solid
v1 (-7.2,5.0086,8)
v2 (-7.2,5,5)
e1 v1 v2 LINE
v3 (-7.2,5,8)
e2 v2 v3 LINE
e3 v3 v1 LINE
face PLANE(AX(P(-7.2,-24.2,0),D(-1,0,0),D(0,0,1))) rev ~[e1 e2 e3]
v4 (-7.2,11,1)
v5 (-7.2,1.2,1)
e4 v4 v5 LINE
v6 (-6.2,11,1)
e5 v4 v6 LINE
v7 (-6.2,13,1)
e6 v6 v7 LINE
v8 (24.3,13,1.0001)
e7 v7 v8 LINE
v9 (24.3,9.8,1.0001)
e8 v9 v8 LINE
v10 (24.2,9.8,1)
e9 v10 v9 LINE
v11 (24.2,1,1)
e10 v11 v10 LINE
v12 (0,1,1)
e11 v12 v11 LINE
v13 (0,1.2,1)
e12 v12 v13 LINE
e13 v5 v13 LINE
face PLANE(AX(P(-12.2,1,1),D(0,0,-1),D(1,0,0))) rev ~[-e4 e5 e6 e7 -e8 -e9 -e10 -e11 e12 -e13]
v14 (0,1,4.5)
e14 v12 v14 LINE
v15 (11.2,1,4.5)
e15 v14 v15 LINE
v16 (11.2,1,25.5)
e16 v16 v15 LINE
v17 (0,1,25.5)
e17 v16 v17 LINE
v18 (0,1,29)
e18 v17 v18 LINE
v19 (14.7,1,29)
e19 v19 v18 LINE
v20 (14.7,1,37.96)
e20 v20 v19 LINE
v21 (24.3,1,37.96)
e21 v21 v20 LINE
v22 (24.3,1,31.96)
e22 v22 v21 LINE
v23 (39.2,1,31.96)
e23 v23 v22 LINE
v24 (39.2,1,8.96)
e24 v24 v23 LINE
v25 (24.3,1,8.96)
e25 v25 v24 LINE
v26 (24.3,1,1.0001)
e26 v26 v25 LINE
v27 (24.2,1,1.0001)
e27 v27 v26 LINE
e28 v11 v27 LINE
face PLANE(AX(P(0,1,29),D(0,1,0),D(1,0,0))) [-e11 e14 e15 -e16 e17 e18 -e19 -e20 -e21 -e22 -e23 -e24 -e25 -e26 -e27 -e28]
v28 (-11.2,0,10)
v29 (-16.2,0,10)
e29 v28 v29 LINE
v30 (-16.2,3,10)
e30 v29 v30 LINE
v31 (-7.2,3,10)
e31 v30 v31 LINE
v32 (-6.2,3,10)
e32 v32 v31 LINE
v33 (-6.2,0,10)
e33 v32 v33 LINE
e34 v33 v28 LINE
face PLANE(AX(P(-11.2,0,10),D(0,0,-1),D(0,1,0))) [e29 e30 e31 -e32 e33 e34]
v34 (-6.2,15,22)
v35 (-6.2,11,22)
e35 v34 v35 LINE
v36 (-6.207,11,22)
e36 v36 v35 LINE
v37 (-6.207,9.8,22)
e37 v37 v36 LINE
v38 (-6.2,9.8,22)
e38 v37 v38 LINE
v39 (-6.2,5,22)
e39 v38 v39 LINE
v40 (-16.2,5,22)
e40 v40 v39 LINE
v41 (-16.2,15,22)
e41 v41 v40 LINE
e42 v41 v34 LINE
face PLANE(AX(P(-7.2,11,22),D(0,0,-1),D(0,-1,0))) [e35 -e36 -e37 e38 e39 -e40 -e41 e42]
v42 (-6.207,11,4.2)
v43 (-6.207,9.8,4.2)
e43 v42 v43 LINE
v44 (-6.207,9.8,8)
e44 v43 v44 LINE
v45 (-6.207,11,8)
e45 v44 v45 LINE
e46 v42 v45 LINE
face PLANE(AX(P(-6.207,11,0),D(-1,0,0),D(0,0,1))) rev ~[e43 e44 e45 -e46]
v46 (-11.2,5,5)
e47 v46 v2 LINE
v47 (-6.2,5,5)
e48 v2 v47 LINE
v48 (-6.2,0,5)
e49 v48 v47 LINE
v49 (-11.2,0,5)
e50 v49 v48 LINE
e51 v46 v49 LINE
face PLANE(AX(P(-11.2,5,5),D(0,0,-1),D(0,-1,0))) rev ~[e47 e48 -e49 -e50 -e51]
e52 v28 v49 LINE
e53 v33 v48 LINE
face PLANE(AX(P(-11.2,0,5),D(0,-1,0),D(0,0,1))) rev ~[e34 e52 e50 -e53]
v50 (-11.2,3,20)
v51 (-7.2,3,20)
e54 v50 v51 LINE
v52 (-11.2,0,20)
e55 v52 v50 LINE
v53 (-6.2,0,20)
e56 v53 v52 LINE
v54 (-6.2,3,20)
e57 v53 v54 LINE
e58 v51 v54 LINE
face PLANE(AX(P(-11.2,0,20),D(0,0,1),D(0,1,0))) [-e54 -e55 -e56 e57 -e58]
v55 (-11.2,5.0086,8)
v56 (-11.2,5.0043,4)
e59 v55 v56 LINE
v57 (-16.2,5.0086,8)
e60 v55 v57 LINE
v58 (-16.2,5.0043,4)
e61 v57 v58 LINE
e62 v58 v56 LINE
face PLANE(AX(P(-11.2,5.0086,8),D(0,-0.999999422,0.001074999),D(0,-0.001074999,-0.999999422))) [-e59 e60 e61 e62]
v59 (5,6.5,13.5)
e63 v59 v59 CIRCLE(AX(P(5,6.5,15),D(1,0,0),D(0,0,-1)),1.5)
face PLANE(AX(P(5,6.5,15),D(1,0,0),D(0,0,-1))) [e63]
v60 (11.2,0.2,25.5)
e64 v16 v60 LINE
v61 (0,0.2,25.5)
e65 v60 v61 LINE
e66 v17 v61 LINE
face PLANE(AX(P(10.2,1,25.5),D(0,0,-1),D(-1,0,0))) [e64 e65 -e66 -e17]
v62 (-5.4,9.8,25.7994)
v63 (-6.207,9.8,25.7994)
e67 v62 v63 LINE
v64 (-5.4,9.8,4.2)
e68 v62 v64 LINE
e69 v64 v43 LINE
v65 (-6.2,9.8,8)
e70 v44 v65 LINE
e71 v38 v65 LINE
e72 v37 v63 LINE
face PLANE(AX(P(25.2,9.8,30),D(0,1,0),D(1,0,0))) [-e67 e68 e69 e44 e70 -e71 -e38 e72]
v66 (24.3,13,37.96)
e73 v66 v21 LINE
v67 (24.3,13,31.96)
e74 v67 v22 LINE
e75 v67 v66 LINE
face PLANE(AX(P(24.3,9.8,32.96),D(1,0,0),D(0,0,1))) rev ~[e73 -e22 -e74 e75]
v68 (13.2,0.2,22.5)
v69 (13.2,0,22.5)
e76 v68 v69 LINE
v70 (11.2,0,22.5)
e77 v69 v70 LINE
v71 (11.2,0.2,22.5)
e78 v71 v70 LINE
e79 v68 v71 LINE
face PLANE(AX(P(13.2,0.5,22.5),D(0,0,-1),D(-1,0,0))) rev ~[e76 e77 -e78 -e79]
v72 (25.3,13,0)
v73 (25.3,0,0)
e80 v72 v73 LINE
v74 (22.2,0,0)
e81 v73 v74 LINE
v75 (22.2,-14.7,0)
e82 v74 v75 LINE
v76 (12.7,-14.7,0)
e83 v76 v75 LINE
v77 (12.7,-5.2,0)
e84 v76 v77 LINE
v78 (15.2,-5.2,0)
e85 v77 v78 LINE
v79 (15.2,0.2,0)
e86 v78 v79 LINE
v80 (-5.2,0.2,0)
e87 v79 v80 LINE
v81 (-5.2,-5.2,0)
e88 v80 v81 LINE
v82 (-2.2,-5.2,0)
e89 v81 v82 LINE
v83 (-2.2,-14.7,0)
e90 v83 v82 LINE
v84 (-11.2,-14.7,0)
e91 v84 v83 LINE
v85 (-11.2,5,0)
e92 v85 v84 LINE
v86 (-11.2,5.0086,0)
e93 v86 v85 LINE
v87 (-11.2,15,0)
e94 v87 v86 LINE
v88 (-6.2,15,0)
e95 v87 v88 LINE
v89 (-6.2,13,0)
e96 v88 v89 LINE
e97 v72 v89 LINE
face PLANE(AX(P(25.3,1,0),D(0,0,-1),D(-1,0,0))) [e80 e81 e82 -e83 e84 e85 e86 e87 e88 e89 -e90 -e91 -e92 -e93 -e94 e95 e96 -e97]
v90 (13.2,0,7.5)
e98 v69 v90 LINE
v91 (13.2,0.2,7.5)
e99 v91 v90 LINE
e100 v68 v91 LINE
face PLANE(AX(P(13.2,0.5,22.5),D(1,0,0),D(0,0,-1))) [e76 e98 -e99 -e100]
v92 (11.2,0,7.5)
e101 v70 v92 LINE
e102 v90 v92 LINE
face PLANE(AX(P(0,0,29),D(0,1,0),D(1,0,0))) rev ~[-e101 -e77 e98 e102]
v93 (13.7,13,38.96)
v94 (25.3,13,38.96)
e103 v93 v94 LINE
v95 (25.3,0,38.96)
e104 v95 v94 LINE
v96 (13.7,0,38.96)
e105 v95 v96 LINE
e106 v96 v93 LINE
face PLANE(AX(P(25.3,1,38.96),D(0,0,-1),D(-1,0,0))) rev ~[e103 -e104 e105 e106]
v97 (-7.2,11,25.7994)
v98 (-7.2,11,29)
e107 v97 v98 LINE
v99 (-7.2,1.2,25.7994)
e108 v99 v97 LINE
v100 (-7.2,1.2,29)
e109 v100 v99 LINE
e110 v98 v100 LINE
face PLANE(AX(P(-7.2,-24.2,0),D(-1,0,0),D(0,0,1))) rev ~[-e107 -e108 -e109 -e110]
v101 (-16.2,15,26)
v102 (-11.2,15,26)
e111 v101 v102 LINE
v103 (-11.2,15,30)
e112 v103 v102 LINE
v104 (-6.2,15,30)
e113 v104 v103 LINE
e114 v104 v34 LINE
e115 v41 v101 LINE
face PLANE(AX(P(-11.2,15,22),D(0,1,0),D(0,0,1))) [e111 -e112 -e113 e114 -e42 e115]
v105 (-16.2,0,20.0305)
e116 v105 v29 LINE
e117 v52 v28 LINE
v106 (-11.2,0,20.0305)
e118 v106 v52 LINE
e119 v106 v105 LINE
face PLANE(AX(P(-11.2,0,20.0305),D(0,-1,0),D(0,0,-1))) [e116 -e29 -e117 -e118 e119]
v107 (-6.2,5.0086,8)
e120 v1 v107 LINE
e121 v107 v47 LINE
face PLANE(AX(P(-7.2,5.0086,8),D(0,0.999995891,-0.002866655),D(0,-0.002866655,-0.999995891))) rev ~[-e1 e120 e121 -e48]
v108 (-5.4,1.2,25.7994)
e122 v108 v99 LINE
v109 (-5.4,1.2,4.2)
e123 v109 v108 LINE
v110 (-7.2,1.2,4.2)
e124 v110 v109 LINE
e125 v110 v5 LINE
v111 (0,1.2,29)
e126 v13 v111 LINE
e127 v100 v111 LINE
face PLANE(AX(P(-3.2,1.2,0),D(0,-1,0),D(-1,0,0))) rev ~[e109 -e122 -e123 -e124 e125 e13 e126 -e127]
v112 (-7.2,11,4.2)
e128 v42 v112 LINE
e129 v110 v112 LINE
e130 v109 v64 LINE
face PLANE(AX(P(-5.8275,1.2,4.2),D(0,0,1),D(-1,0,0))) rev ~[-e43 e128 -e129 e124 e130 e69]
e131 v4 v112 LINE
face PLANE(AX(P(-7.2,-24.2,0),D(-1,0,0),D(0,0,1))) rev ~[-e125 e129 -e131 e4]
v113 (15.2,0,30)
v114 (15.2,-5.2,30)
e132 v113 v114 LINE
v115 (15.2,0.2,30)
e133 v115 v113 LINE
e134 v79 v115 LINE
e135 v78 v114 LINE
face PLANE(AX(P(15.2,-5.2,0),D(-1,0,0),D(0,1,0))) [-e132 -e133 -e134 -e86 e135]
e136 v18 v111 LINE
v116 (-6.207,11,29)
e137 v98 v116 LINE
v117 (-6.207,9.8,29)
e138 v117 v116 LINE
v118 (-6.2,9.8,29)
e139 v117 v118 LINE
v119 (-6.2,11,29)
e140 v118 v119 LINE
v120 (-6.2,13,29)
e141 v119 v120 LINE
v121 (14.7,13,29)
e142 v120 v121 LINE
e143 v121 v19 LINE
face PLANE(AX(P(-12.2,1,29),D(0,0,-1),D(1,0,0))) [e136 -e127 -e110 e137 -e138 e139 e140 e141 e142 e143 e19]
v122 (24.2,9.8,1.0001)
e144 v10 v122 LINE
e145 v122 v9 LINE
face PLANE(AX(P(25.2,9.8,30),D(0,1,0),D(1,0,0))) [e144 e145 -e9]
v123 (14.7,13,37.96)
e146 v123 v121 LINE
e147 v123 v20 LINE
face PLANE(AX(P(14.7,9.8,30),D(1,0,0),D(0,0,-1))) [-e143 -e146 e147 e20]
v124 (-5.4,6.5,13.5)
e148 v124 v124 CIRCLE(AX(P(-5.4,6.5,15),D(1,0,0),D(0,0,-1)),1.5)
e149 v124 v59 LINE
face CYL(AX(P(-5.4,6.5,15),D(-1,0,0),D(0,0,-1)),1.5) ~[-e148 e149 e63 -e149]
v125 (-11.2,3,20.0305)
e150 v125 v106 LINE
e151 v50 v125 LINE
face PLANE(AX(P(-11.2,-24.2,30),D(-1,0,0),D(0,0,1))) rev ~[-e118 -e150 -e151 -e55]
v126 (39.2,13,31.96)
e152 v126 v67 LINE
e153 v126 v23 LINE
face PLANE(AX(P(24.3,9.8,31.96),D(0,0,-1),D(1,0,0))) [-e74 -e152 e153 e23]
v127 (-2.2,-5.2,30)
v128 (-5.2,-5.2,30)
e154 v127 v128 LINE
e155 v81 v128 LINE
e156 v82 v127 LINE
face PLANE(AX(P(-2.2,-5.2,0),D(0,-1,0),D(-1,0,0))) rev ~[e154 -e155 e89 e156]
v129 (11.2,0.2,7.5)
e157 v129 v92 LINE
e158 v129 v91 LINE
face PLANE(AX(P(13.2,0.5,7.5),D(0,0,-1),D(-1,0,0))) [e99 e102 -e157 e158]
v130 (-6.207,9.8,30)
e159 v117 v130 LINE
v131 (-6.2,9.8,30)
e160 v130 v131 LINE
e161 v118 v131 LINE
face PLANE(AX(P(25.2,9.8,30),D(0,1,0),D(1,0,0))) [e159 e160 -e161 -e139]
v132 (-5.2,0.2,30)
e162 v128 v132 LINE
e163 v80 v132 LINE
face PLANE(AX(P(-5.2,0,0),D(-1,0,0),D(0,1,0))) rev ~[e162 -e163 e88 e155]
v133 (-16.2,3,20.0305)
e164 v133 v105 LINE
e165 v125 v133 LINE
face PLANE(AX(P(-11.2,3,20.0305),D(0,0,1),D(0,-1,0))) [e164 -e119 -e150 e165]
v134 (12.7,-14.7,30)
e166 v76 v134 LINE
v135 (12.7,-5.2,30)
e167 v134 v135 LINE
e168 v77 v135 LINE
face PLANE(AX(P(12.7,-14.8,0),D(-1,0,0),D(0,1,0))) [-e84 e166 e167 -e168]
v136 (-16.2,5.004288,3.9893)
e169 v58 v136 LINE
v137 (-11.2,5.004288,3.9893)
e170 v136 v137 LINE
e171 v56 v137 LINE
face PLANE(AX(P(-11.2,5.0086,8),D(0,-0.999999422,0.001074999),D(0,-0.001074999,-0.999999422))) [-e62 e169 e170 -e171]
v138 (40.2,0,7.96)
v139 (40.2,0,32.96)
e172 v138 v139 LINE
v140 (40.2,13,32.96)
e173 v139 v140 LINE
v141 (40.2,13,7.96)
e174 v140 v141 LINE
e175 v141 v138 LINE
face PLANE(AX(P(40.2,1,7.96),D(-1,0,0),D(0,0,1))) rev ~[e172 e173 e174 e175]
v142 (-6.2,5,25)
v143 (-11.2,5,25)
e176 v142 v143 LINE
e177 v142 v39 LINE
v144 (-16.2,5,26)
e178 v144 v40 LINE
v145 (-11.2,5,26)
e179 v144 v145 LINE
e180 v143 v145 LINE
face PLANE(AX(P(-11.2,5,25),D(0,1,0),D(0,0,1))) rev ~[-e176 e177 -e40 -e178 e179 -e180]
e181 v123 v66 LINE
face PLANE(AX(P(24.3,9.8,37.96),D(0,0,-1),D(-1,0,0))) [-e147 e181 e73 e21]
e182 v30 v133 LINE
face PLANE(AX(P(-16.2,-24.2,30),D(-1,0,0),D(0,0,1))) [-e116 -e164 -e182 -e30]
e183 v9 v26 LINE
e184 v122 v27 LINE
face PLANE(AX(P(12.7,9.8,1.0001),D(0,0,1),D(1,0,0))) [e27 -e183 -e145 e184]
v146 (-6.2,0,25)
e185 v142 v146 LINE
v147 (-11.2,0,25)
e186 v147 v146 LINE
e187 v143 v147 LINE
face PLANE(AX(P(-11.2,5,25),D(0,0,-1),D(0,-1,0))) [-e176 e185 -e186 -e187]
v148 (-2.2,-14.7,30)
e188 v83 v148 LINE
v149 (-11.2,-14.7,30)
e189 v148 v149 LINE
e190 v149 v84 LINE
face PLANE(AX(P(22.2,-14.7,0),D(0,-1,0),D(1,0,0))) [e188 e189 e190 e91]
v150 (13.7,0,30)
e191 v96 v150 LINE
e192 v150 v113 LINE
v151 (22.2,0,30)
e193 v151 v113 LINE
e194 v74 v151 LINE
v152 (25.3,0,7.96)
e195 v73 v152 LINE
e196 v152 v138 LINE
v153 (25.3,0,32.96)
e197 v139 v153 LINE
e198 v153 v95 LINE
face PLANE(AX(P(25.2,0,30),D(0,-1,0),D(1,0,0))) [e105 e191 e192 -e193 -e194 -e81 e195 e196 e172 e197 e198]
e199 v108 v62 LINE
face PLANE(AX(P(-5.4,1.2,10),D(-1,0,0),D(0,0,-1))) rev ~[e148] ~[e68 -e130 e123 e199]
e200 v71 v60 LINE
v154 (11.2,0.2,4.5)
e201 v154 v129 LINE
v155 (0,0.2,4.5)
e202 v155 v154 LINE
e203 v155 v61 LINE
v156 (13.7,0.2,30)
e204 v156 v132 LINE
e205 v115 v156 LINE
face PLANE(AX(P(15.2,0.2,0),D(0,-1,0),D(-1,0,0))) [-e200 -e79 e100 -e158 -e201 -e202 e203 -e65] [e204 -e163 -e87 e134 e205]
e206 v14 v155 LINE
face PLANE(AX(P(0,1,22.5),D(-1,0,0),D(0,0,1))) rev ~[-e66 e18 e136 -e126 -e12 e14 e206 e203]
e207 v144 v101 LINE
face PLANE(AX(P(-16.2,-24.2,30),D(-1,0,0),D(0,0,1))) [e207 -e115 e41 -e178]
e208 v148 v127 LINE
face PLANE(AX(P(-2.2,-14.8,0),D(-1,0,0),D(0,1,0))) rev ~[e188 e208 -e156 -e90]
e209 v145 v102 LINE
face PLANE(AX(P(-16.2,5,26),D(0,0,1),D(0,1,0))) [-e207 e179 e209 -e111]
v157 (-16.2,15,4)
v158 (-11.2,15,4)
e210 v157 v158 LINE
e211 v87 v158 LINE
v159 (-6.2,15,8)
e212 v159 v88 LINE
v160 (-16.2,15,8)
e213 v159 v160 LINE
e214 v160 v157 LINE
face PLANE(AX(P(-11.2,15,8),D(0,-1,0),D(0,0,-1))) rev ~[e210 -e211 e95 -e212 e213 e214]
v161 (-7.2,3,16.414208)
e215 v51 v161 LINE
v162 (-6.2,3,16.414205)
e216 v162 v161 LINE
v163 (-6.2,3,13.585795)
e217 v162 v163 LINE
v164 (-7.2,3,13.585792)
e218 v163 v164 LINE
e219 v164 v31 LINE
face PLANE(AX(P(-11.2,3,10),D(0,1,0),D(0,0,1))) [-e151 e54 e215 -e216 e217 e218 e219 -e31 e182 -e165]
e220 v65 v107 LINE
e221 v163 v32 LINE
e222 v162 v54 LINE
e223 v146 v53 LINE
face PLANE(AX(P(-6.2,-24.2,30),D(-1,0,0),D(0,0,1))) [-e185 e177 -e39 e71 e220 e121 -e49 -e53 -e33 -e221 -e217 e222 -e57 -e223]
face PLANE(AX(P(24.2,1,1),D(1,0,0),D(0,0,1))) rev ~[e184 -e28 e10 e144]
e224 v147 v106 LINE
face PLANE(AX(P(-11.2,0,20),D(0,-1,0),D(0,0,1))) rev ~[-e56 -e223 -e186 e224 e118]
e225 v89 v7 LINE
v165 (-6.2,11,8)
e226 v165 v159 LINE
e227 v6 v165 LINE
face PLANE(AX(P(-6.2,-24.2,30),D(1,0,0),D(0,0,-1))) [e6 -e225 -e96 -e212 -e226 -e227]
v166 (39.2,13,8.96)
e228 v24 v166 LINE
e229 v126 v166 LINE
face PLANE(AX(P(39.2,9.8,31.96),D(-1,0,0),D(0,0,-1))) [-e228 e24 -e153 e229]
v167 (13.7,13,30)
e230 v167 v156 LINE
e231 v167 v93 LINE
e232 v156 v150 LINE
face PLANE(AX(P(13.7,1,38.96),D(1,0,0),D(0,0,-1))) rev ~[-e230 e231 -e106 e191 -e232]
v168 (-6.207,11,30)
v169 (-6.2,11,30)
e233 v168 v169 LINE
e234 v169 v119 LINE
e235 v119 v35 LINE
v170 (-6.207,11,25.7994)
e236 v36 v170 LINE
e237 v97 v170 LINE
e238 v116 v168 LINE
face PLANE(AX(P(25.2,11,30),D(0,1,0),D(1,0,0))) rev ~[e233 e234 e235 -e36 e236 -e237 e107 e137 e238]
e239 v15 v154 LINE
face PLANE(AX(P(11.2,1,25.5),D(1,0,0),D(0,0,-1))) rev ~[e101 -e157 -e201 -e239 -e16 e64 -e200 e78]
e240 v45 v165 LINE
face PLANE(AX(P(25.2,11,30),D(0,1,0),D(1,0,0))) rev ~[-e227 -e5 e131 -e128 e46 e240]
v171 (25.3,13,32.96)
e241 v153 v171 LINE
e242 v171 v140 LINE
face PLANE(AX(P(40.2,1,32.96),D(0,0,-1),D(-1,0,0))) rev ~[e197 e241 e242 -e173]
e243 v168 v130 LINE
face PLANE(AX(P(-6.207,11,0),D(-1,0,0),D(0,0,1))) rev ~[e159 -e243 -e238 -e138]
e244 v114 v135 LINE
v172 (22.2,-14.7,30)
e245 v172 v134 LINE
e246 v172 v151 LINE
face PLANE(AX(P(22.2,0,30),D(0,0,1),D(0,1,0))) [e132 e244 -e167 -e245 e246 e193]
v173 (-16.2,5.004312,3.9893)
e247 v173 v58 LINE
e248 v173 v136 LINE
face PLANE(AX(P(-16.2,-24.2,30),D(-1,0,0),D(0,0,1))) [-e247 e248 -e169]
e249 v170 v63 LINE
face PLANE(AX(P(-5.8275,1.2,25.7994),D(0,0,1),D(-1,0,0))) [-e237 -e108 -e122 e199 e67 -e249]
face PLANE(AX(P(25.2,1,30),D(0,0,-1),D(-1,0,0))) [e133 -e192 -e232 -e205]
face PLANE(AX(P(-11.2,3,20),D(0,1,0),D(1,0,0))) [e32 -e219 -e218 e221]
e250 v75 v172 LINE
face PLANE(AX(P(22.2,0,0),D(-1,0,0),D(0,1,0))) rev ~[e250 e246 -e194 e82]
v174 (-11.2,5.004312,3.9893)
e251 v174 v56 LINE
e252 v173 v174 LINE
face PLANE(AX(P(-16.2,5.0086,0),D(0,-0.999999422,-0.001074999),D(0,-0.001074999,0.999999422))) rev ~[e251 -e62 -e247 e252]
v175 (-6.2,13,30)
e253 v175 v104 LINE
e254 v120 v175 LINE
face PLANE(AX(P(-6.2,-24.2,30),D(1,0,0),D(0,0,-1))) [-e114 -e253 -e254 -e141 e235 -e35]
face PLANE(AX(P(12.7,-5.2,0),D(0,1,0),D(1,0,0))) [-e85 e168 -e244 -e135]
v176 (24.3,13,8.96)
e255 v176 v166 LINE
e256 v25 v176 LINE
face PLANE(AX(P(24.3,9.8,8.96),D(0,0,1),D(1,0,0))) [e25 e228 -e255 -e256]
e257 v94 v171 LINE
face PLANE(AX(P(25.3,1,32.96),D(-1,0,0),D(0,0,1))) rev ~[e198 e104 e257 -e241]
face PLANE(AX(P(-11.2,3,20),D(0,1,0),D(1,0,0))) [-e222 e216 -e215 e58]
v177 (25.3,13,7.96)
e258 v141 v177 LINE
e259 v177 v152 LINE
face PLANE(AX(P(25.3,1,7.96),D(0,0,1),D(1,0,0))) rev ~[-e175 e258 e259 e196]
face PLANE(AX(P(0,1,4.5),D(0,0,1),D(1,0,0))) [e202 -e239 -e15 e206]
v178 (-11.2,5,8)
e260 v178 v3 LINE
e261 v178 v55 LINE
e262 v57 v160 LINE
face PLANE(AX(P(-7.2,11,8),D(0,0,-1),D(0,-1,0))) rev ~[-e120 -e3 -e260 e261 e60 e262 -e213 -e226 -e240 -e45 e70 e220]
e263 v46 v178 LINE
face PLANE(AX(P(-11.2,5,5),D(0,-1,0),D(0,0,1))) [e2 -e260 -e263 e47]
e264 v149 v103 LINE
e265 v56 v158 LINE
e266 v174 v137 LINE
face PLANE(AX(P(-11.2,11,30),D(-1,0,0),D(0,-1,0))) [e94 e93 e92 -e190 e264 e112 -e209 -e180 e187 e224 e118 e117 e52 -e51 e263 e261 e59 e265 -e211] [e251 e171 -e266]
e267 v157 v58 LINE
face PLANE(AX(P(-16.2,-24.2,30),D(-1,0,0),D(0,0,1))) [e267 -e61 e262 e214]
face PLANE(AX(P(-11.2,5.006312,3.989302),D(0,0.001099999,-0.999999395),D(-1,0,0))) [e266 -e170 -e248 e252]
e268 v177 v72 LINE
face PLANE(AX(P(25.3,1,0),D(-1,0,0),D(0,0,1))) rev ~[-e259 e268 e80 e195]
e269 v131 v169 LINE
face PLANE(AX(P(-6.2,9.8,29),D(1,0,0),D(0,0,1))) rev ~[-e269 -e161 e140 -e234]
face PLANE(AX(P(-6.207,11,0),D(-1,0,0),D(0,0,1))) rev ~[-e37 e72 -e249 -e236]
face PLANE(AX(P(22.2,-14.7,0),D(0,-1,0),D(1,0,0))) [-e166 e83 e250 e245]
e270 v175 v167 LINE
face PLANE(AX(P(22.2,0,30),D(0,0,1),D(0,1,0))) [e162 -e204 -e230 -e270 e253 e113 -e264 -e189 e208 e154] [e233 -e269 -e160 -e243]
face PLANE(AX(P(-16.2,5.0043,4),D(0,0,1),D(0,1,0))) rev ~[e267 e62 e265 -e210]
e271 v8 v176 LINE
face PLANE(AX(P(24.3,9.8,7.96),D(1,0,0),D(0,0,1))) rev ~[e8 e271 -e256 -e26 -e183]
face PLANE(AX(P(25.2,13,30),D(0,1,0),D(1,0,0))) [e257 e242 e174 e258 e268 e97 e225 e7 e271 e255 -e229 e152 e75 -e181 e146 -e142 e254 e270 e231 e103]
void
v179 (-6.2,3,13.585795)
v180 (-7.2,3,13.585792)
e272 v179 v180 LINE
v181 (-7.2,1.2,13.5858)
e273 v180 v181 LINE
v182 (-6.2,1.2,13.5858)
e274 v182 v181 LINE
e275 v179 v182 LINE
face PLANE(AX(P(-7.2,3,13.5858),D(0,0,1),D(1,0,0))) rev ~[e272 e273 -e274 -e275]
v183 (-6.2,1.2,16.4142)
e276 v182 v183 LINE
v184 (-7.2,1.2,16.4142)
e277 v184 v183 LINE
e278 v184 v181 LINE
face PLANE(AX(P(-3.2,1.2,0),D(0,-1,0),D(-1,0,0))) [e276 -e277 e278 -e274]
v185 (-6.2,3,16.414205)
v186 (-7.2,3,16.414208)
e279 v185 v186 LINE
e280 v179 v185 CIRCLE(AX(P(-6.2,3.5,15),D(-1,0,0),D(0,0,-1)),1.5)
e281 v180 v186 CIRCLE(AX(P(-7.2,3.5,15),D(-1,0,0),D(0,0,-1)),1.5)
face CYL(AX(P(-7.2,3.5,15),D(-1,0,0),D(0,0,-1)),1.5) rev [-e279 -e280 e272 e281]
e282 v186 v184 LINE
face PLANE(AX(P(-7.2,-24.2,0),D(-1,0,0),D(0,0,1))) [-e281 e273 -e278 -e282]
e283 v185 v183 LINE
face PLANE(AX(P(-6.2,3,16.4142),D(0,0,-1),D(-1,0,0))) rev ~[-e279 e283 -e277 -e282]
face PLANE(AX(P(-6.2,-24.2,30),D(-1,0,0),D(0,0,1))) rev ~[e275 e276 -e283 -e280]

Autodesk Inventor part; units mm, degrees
ref_plane "YZ Plane" through (0, 0, 0) normal (1, 0, 0) x (0, 1, 0)
ref_plane "XZ Plane" through (0, 0, 0) normal (0, 1, 0) x (-1, 0, 0)
ref_plane "XY Plane" through (0, 0, 0) normal (0, 0, 1) x (1, 0, 0)
sketch "Esboço2" plane through (0, 0, 0) normal (0, 0, 1) x (1, 0, 0)
  line L0 (0, 0) -> (-5, 0)
  line L1 (-5, 0) -> (-5, -5)
  line L2 (-5, -5) -> (-2, -5)
  line L3 (-2, -5) -> (-2, -15)
  line L4 (-2, -15) -> (-5.6275, -15)
  line L5 (-5.6275, -15) -> (-5.6275, -20)
  line L6 (-5.6275, -20) -> (0, -20)
  line L7 (0, -20) -> (0, -17.5)
  line L8 (0, -17.5) -> (10, -17.5)
  line L9 (10, -17.5) -> (10, -20)
  line L10 (10, -20) -> (15, -20)
  line L11 (15, -20) -> (15, -15)
  line L12 (15, -15) -> (12.5, -15)
  line L13 (12.5, -15) -> (12.5, -5)
  line L14 (12.5, -5) -> (15, -5)
  line L15 (15, 0) -> (15, -5)
  line L16 (15, 0) -> (10, 0)
  line L17 (10, 0) -> (10, -2.5)
  line L18 (10, -2.5) -> (0, -2.5)
  line L19 (0, -2.5) -> (0, 0)
  line L20 (-2.2, -14.8) -> (-2.2, -5.2)
  line L21 (-2.2, -5.2) -> (-4.7, -5.2)
  line L22 (-2.2, -14.8) -> (-4.7, -14.8)
  line L23 (-2.2, -14.8) -> (-5.8275, -14.8)
  line L24 (-5.8275, -14.8) -> (-5.8275, -20)
  line L25 (-5.8275, -20) -> (-5.8275, -20.2)
  line L26 (-5.8275, -20.2) -> (0.2, -20.2)
  line L27 (0.2, -20.2) -> (0.2, -17.7)
  line L28 (0.2, -17.7) -> (9.8, -17.7)
  line L29 (9.8, -17.7) -> (9.8, -18.4636)
  line L30 (9.8, -18.4636) -> (9.8, -20.2)
  line L31 (9.8, -20.2) -> (15.2, -20.2)
  line L32 (15.2, -20.2) -> (15.2, -14.8)
  line L33 (15.2, -14.8) -> (12.7, -14.8)
  line L34 (12.7, -14.8) -> (12.7, -5.2)
  line L35 (12.7, -5.2) -> (15.1265, -5.2)
  line L36 (15.1265, -5.2) -> (15.2, -5.2)
  line L37 (15.2, -5.2) -> (15.2, 0)
  line L38 (-4.7, -5.2) -> (-5.2, -5.2)
  line L39 (-5.2, -5.2) -> (-5.2, 0)
  line L40 (-12.2, 0) -> (-12.2, -24.2)
  line L41 (-12.2, -24.2) -> (22.2, -24.2)
  line L42 (22.2, -24.2) -> (22.2, 0)
  line L43 (15.2, 0) -> (15.2, 0.2)
  line L44 (15.2, 0.2) -> (13.2, 0.2)
  line L45 (22.2, 0) -> (22.2, 1)
  line L46 (22.2, 1) -> (13.2, 1)
  line L47 (13.2, 1) -> (13.2, 0.2)
  line L48 (-12.2, 0) -> (-12.2, 1.2)
  line L49 (-5.2, 0) -> (-5.2, 0.2)
  line L50 (-5.2, 0.2) -> (-3.2, 0.2)
  line L51 (-3.2, 1.2) -> (-12.2, 1.2)
  line L52 (-3.2, 1.2) -> (0, 1.2)
  line L53 (0, 1.2) -> (0, 0.2)
  line L54 (0, 0.2) -> (-3.2, 0.2)
  line L55 (0.5946, -2.5) -> (0.5946, 9.5)
  line L56 (0.5946, 9.5) -> (9.5946, 9.5)
  line L57 (9.5946, 9.5) -> (9.5946, -2.5)
  line L58 (0.5946, -2.5) -> (9.5946, -2.5)
  dimension "d0" = 5
  dimension "d1" = 5
  dimension "d2" = 3
  dimension "d3" = 10
  dimension "d4" = 5
  dimension "d5" = 2.5
  dimension "d6" = 10
  dimension "d7" = 5
  dimension "d8" = 5
  dimension "d9" = 10
  dimension "d11" = 5
  dimension "d12" = 0.2
  dimension "d13" = 0.2
  dimension "d14" = 0.2
  dimension "d15" = 0.2
  dimension "d16" = 0.2
  dimension "d17" = 0.2
  dimension "d19" = 0.2
  dimension "d20" = 0.2
  dimension "d21" = 0.2
  dimension "d22" = 0.2
  dimension "d23" = 0.2
  dimension "d24" = 0.2
  dimension "d25" = 0.2
  dimension "d26" = 0.2
  dimension "d27" = 0.2
  dimension "d28" = 7
  dimension "d29" = 4
  dimension "d30" = 7
  dimension "d31" = 0.2
  dimension "d32" = 2
  dimension "d33" = 1
  dimension "d34" = 0.2
  dimension "d35" = 2
  dimension "d36" = 1
  dimension "d39" = 12
  dimension "d40" = 9
extrude "Extrusão1" add sketch "Esboço2" along normal blind 30 contours L22 L23 L24 L25 L26 L27 L28 L29 L30 L31 L32 L33 L34 L35 L36 L37 L43 L44 L47 L46 L45 L42 L41 L40 L48 L51 L52 L53 L54 L50 L49 L39 L38 L21 L20
sketch "Esboço4" plane through (-12.2, -24.2, 0) normal (-1, 0, 0) x (0, 0, 1)
  circle A0 centre (30, 27.7) radius 6 projected
  line L0 (30, 27.7) -> (0, 27.7)
  line L1 (15, 27.7) -> (15, 25.4)
  line L2 (0, 25.4) -> (30, 25.4) projected
  line L3 (0, 27.7) -> (30, 27.7)
  line L4 (30, 27.7) -> (30, 25.4)
  line L5 (30, 25.4) -> (0, 25.4)
  line L6 (0, 25.4) -> (0, 27.7)
  point P0 (0, 24.2)
extrude "Extrusão2" add sketch "Esboço4" against normal blind 5 contours L0 L4 L2 A0 | A0 L2 L1 L0 | L1 L2 L6 L0 picked at (28.1528, 26.1667)
sketch "Esboço5" plane through (-7.2, -24.2, 0) normal (1, 0, 0) x (0, 0, -1)
  line L0 (-30, 27.7) -> (0, 27.7) projected
  line L1 (0, 27.7) -> (-15, 27.7)
  circle A0 centre (-15, 27.7) radius 1.5
  point P0 (0, 24.2)
  dimension "d48" = 3
extrude "Extrusão3" add sketch "Esboço5" along normal blind 13.7
sketch "Esboço6" plane through (-7.2, -24.2, 0) normal (-1, 0, 0) x (0, 0, 1)
  line L0 (13.5, 27.7) -> (16.5, 27.7) projected
  circle A0 centre (15, 27.7) radius 1.5
  point P0 (0, 24.2)
extrude "Extrusão4" add sketch "Esboço6" along normal blind 5 contours A0 L0 picked at (15.4855, 27.8197)
sketch "Esboço7" plane through (-12.2, -24.2, 0) normal (-1, 0, 0) x (0, 0, 1)
  circle A0 centre (30, 27.7) radius 6 projected
  line L0 (13.5, 27.7) -> (0, 27.7) projected
  line L1 (30, 33.7) -> (0, 33.7)
  line L2 (0, 33.7) -> (0, 27.7)
  line L3 (0, 27.7) -> (30, 27.7)
  line L4 (30, 27.7) -> (30, 33.7)
  point P0 (0, 24.2)
extrude "Extrusão5" add sketch "Esboço7" against normal blind 5 contours L4 L3 A0 | A0 L3 L0 L2 L1 picked at (26.0501, 28.145)
sketch "Esboço8" plane through (-12.2, -24.2, 0) normal (-1, 0, 0) x (0, 0, 1)
  line L0 (30, 33.7) -> (0, 33.7) projected
  line L1 (0, 33.7) -> (0, 35.2)
  line L2 (0, 35.2) -> (30, 35.2)
  line L3 (30, 35.2) -> (30, 33.7)
  line L4 (30, 33.7) -> (0, 33.7)
  line L5 (30, 33.7) -> (30, 25.4) projected
  point P0 (0, 24.2)
  dimension "d55" = 1.5
extrude "Extrusão6" add sketch "Esboço8" against normal blind 5
sketch "Esboço10" plane through (13.2, 1, 0) normal (0, 1, 0) x (1, 0, 0)
  line L0 (-6.7, -16.5) -> (-6.7, -13.5) projected
  line L1 (-6.7, -15) -> (-6.7, -21.5)
  line L2 (-6.7, -15) -> (-6.7, -8.5)
  line L3 (0, 0) -> (0, -30) projected
  line L4 (0, 0) -> (-13.2, 0)
  line L5 (-3.4, 0) -> (-13, 0) projected
  line L6 (-13.2, 0) -> (-13.2, -8.5)
  line L7 (-13, 0) -> (-13, -30) projected
  line L8 (-13.2, -8.5) -> (0, -8.5)
  line L9 (0, -8.5) -> (0, 0)
  line L10 (2, -30) -> (-3.4, -30) projected
  line L11 (0, -30) -> (0, -21.5)
  line L12 (0, -21.5) -> (-13.2, -21.5)
  line L13 (-13.2, 0) -> (-13.2, -30) projected
  line L14 (-13.2, -21.5) -> (-13.2, -30)
  line L15 (-13.2, -30) -> (0, -30)
  dimension "d58" = 6.5
  dimension "d59" = 6.5
extrude "Extrusão7" add sketch "Esboço10" against normal blind 0.8 contours L12 L3 L10 L15 L7 | L7 L15 L13 L12 | L8 L7 L4 L3 | L8 L6 L4 L7
sketch "Esboço15" plane through (22.2, -24.2, 0) normal (1, 0, 0) x (0, 0, -1)
  line L0 (-30, 25.2) -> (-21.5, 25.2) projected
  line L1 (-30, 25.2) -> (0, 25.2)
  line L2 (0, 25.2) -> (0, 24.2)
  line L3 (0, 24.2) -> (-30, 24.2)
  line L4 (-30, 24.2) -> (-30, 25.2)
extrude "Extrusão10" add sketch "Esboço15" along normal blind 3
sketch "Esboço16" plane through (0, 1, 8.5) normal (0, 1, 0) x (1, 0, 0)
  line L0 (22.2, -21.5) -> (25.2, -21.5) projected
  line L1 (25.2, 8.5) -> (23.7, 8.5)
  line L2 (23.7, -21.5) -> (25.2, -21.5)
  line L3 (0, -21.5) -> (25.2, -21.5) projected
  line L4 (-12.2, -21.5) -> (-12.2, 8.5) projected
  line L5 (25.2, -21.5) -> (-12.2, -21.5)
  line L6 (-12.2, -21.5) -> (-12.2, -20.5)
  line L7 (-12.2, -20.5) -> (25.2, -20.5)
  line L8 (25.2, -20.5) -> (25.2, -21.5)
  line L9 (0, 8.5) -> (25.2, 8.5) projected
  line L10 (25.2, 8.5) -> (-12.2, 8.5)
  line L11 (-12.2, 8.5) -> (-12.2, 7.5)
  line L12 (-12.2, 7.5) -> (25.2, 7.5)
  line L13 (25.2, 7.5) -> (25.2, 8.5)
  line L14 (25.2, 8.5) -> (24.2, 8.5)
  line L15 (24.2, 8.5) -> (24.2, -21.5)
  line L16 (24.2, -21.5) -> (25.2, -21.5)
  line L17 (25.2, -21.5) -> (25.2, 8.5)
  point P0 (24.2, 7.5)
  point P1 (24.2, -20.5)
  dimension "d70" = 1
  dimension "d71" = 1
  dimension "d73" = 1
extrude "Extrusão11" add sketch "Esboço16" along normal blind 10 contours L3 L5 L4 L7 L15 L0 | L15 L7 L8 L0 | L15 L12 L17 L7 | L15 L1 L13 L12 | L12 L4 L10 L9 L1 L15
sketch "Esboço18" plane through (0, 0, 30) normal (0, 0, 1) x (1, 0, 0)
  line L0 (-12.2, 11) -> (-12.2, -24.2) projected
  line L1 (-12.2, -24.2) -> (22.2, -24.2) projected
  line L2 (-12.2, 11) -> (-11.2, 11)
  line L3 (-11.2, 11) -> (-11.2, -24.2)
  line L4 (-11.2, -24.2) -> (-12.2, -24.2)
  line L5 (-12.2, -24.2) -> (-12.2, 11)
  point P0 (0, 0)
  dimension "d76" = 1
extrude "Extrusão12" cut sketch "Esboço18" against normal through all
sketch "Esboço20" plane through (0, 1, 8.5) normal (0, 1, 0) x (1, 0, 0)
  line L0 (0, 7.5) -> (0, -20.5) projected
  line L1 (12.7, 8.5) -> (12.7, -21.5) projected
  line L2 (0, 0) -> (12.7, 0)
  line L3 (12.7, 0) -> (12.7, 1)
  line L4 (12.7, 1) -> (0, 1)
  line L5 (0, 1) -> (0, 0)
  line L6 (0, 0) -> (13.2, 0) projected
  line L7 (12.7, 1) -> (13.2, 1)
  line L8 (13.2, 1) -> (13.2, 0)
  line L9 (13.2, 0) -> (12.7, 0)
  line L10 (12.7, 0) -> (12.7, 1)
  line L11 (13.2, 0) -> (13.2, -13) projected
  line L12 (0, -20.5) -> (0, -13) projected
  line L13 (13.2, -13) -> (0, -13)
  line L14 (0, -13) -> (0, -14)
  line L15 (0, -14) -> (13.2, -14)
  line L16 (13.2, -14) -> (13.2, -13)
  point P0 (0, 8.5)
  point P1 (0, -14)
  point P2 (0, -13)
  point P3 (0, 1)
  dimension "d79" = 1
  dimension "d80" = 1
extrude "Extrusão13" cut sketch "Esboço20" against normal blind 1 contours L4 L1 L2 L0 | L7 L8 L6 L1 | L13 L1 L15 L0 | L13 L16 L15 L1
sketch "Esboço23" plane through (0, 1, 29) normal (0, 1, 0) x (1, 0, 0)
  line L0 (13.2, 21.5) -> (13.2, 6.5) projected
  line L1 (13.2, 6.5) -> (17.9377, 6.5)
  line L2 (17.9377, 6.5) -> (22.2, 6.5)
  line L3 (22.2, 29) -> (22.2, -1) projected
  line L4 (13.2, 6.5) -> (23.7, 6.5)
  line L5 (13.2, 21.5) -> (0, 21.5) projected
  line L6 (13.2, 21.5) -> (23.7, 21.5)
  line L7 (13.2, 21.5) -> (13.2, 6.5)
  line L8 (23.7, 6.5) -> (23.7, 21.5)
  point P0 (0, 29)
  point P1 (22.2, 21.5)
  point P2 (22.2, 6.5)
  dimension "d91" = 10.5
extrude "Extrusão16" cut sketch "Esboço23" against normal blind 0.5
sketch "Esboço29" plane through (0, 0.5, 29) normal (0, 1, 0) x (1, 0, 0)
  line L0 (13.2, 6.5) -> (13.2, 21.5) projected
  line L1 (13.2, 21.5) -> (10.2, 21.5)
  line L2 (0, 21.5) -> (23.7, 21.5) projected
  line L3 (10.2, 21.5) -> (10.2, 6.5)
  line L4 (23.7, 6.5) -> (0, 6.5) projected
  line L5 (13.2, 6.5) -> (10.2, 6.5)
  line L6 (10.2, 21.5) -> (13.2, 21.5)
  point P0 (0, 29)
  dimension "d102" = 3
extrude "Extrusão20" add sketch "Esboço29" against normal blind 0.5
sketch "Esboço38" plane through (-11.2, -24.2, 30) normal (-1, 0, 0) x (0, 0, 1)
  line L0 (0, 35.2) -> (0, 0) projected
  line L1 (-30, 24.2) -> (0, 24.2) projected
  line L2 (0, 24.2) -> (-30, 24.2)
  line L3 (-30, 35.2) -> (0, 35.2) projected
  line L4 (-25, 35.2) -> (-25, 24.2)
  line L5 (-5, 35.2) -> (-5, 24.2)
  line L6 (-5, 24.2) -> (-10, 24.2)
  line L7 (-7.5, 24.2) -> (-22.5, 24.2) projected
  line L8 (-10, 24.2) -> (-10, 27.2)
  line L9 (-10, 27.2) -> (-20, 27.2)
  line L10 (-20, 27.2) -> (-20, 24.2)
  line L11 (-5, 24.2) -> (-5, 29.2)
  line L12 (-5, 29.2) -> (-8, 29.2)
  line L13 (-8, 29.2) -> (-8, 35.2)
  line L14 (-25, 24.2) -> (-25, 29.2)
  line L15 (-25, 29.2) -> (-22, 29.2)
  line L16 (-22, 29.2) -> (-22, 35.2)
  line L17 (-22, 35.2) -> (-8, 35.2)
  point P0 (-5, 24.2)
  dimension "d128" = 20
  dimension "d129" = 5
  dimension "d130" = 5
  dimension "d131" = 3
  dimension "d132" = 10
  dimension "d133" = 5
  dimension "d134" = 3
  dimension "d135" = 3
extrude "Extrusão25" cut sketch "Esboço38" against normal blind 5 contours L1 L8 L9 L10 L4 L15 L16 L3 L13 L12 L5
sketch "Esboço39" plane through (-7.2, 1.2, 29) normal (0, 1, 0) x (1, 0, 0)
  line L0 (1, 12.5) -> (13.7, 12.5) projected
  line L1 (1, 12.5) -> (1, 4)
  line L2 (1, 4) -> (0, 4) projected
  line L3 (1, 4) -> (0, 4)
  line L4 (1, 24) -> (1, 19) projected
  line L5 (1, 12.5) -> (1, 24)
  line L6 (1, 24) -> (0, 24)
  line L7 (0, 24) -> (0, 24.1)
  line L8 (0, 28) -> (0, 21) projected
  line L9 (0, 24.1) -> (1.1, 24.1)
  line L10 (0, 4) -> (0, 0) projected
  line L11 (0, 4) -> (0, 3.9)
  line L12 (0, 3.9) -> (1.1, 3.9)
  line L13 (1.1, 3.9) -> (1.1, 24.1)
  point P0 (7.2, 29)
  dimension "d138" = 0.1
  dimension "d139" = 1.1
  dimension "d140" = 0.1
extrude "Extrusão26" add sketch "Esboço39" along normal blind 9.8
sketch "Esboço40" plane through (-11.2, 3, 20) normal (0, 1, 0) x (1, 0, 0)
  line L0 (4, 3.5858) -> (4, 0) projected
  line L1 (5, 3.5858) -> (4, 3.5858) projected
  line L2 (4, 0) -> (5, 0)
  line L3 (5, 0) -> (5, 3.5858)
  line L4 (5, 3.5858) -> (4, 3.5858)
  line L5 (4, 3.5858) -> (4, 0)
  line L6 (4, 6.4142) -> (5, 6.4142) projected
  line L7 (4, 6.4142) -> (5, 6.4142)
  line L8 (5, 6.4142) -> (5, 10)
  line L9 (5, 10) -> (4, 10)
  line L10 (4, 10) -> (4, 6.4142)
  point P0 (11.2, 20)
extrude "Extrusão27" add sketch "Esboço40" against normal blind 10
sketch "Esboço41" plane through (-7.2, 1.2, 29) normal (0, 1, 0) x (1, 0, 0)
  line L0 (1, 19) -> (1, 15.4142) projected
  line L1 (1, 19) -> (1.8, 19)
  line L2 (1.3725, 29) -> (1.3725, -1) projected
  line L3 (1, 24) -> (1, 4) projected
  line L4 (1, 9.0006) -> (1.8, 9.0006)
  line L5 (1.8, 19) -> (1.8, 9.0006)
  line L6 (1.8, 9.0006) -> (1.8, 3.2006)
  line L7 (1.8, 3.2006) -> (0, 3.2006)
  line L8 (1.8, 19) -> (1.8, 24.8)
  line L9 (1.8, 24.8) -> (0, 24.8)
  line L10 (0, 28) -> (0, 24.1) projected
  line L11 (0, 24.8) -> (0, 24.1)
  line L12 (1.1, 24.1) -> (0, 24.1) projected
  line L13 (0, 24.1) -> (1.1, 24.1)
  line L14 (0, 3.9) -> (0, 0) projected
  line L15 (0, 3.2006) -> (0, 3.9)
  line L16 (0, 3.9) -> (1.1, 3.9) projected
  line L17 (0, 3.9) -> (1.1, 3.9)
  line L18 (1.1, 3.9) -> (1.1, 9.0006)
  line L19 (1.1, 3.9) -> (1.1, 24.1) projected
  line L20 (1.1, 3.9) -> (1.1, 24.1)
  line L21 (0, 28) -> (0, 24.1) projected
  line L22 (0, 24.1) -> (1.1, 24.1)
  line L23 (0, 24.1) -> (0, 24.8)
  point P0 (7.2, 29)
  point P1 (1.1, 19)
  dimension "d149" = 5.8
  dimension "d150" = 5.8
extrude "Extrusão28" add sketch "Esboço41" along normal blind 9.8
sketch "Esboço42" plane through (-7.2, -24.2, 0) normal (1, 0, 0) x (0, 0, -1)
  line L0 (-22, 35.2) -> (-25, 35.2) projected
  line L1 (-22, 35.2) -> (-22, 29.2)
  line L2 (-22, 29.2) -> (-25, 29.1118)
  line L3 (-25, 25.4) -> (-25, 35.2) projected
  line L4 (-25, 35.2) -> (-25, 35.2) projected
  line L5 (-25, 29.2) -> (-22, 29.2) projected
  line L6 (-25, 35.2) -> (-25, 29.2)
  line L7 (-22, 29.2) -> (-22, 35.2) projected
  line L8 (-25, 35.2) -> (-22, 35.2)
  point P0 (0, 24.2)
extrude "Extrusão29" add sketch "Esboço42" along normal blind 1.5 contours L1 L5 L3 L0
sketch "Esboço43" plane through (-7.2, -24.2, 0) normal (1, 0, 0) x (0, 0, -1)
  line L0 (-5, 35.2) -> (-5, 35.4) projected
  line L1 (-8, 35.2) -> (-5, 35.2)
  line L2 (-5, 35.2) -> (-8, 35.2) projected
  line L3 (-8, 35.2) -> (-7.9375, 31.75)
  line L4 (-8, 35.2) -> (-8, 29.2086)
  line L5 (-8, 29.2086) -> (-5, 29.2)
  line L6 (-5, 29.2) -> (-5, 35.2)
  point P0 (0, 24.2)
extrude "Extrusão30" add sketch "Esboço43" along normal blind 1.5
sketch "Esboço44" plane through (-11.2, -24.2, 30) normal (-1, 0, 0) x (0, 0, 1)
  line L0 (-7.5, 24.2) -> (-22.5, 24.2) projected
  line L1 (-20, 27.2) -> (-9.9695, 27.2)
  line L2 (-9.9695, 27.2) -> (-9.9695, 24.2)
  line L3 (-9.9695, 24.2) -> (-20, 24.2)
  line L4 (-20, 24.2) -> (-20, 27.2)
  point P0 (-30, 24.2)
extrude "Extrusão31" add sketch "Esboço44" along normal blind 5
sketch "Esboço45" plane through (-11.2, -24.2, 30) normal (-1, 0, 0) x (0, 0, 1)
  line L0 (-8, 35.2) -> (-8, 29.2) projected
  line L1 (-8, 29.2) -> (-8, 39.2)
  line L2 (-8, 39.2) -> (0, 39.2)
  line L3 (-8, 35.2) -> (0, 35.2) projected
  line L4 (0, 39.2) -> (0, 35.2)
  line L5 (0, 35.2) -> (-8, 35.2)
  line L6 (-30, 35.2) -> (-22, 35.2) projected
  line L7 (-22, 35.2) -> (-22, 39.2)
  line L8 (-22, 39.2) -> (-30, 39.2)
  line L9 (-30, 39.2) -> (-30, 35.2)
  line L10 (-8, 29.2) -> (-5, 29.2) projected
  line L11 (-8, 29.2) -> (0, 29.2)
  line L12 (0, 29.2) -> (0, 39.2)
  line L13 (-22, 35.2) -> (-22, 29.2086) projected
  line L14 (-22, 35.2) -> (-22, 29.2086)
  line L15 (-22, 29.2086) -> (-30, 29.2)
  line L16 (-30, 0) -> (-30, 35.2) projected
  line L17 (-30, 39.2) -> (-30, 29.2)
  point P0 (-30, 24.2)
  dimension "d157" = 10
extrude "Extrusão32" add sketch "Esboço45" along normal blind 5
sketch "Esboço46" plane through (-11.2, -24.2, 30) normal (1, 0, 0) x (0, 0, -1)
  line L0 (0, 39.2) -> (8, 39.2) projected
  line L1 (8, 39.2) -> (8, 35.2) projected
  line L2 (0, 39.2) -> (8, 39.2)
  line L3 (8, 39.2) -> (8, 35.2)
  line L4 (0, 35.2) -> (0, 39.2) projected
  line L5 (8, 35.2) -> (0, 35.2)
  line L6 (0, 35.2) -> (0, 39.2)
  line L7 (22, 29.2086) -> (22, 39.2) projected
  line L8 (22, 39.2) -> (30, 39.2)
  line L9 (30, 35.2) -> (22, 35.2) projected
  line L10 (30, 39.2) -> (30, 35.2)
  line L11 (30, 35.2) -> (22, 35.2)
  line L12 (22, 35.2) -> (22, 39.2)
  point P0 (30, 24.2)
extrude "Extrusão33" add sketch "Esboço46" along normal blind 5
sketch "Esboço47" plane through (-16.2, -24.2, 30) normal (-1, 0, 0) x (0, 0, 1)
  line L0 (0, 29.2) -> (-5, 29.2) projected
  line L1 (-8, 29.2) -> (-5, 29.2)
  line L2 (-8, 29.2) -> (-4, 29.2)
  line L3 (-4, 29.2) -> (-4, 39.2)
  line L4 (0, 39.2) -> (-8, 39.2) projected
  line L5 (0, 39.2) -> (-4, 39.2)
  line L6 (0, 29.2) -> (0, 39.2) projected
  line L7 (0, 39.2) -> (0, 29.2)
  line L8 (0, 29.2) -> (-4, 29.2)
  line L9 (-25, 29.2) -> (-22, 29.2) projected
  line L10 (-22, 29.2) -> (-26, 29.2043)
  line L11 (-22, 29.2086) -> (-30, 29.2) projected
  line L12 (-26, 29.2043) -> (-26, 39.2)
  line L13 (-30, 39.2) -> (-22, 39.2) projected
  line L14 (-30, 39.2) -> (-26, 39.2)
  line L15 (-30, 35.2) -> (-30, 39.2) projected
  line L16 (-30, 39.2) -> (-30, 29.2086)
  line L17 (-30, 29.2086) -> (-26, 29.2043)
  point P0 (-30, 24.2)
  dimension "d163" = 4
extrude "Extrusão34" cut sketch "Esboço47" against normal blind 5
sketch "Esboço48" plane through (-16.2, 5.0043, 4) normal (0, 1, 0.0011) x (1, 0, 0)
  line L0 (5, 4) -> (5, 4.0107) projected
  line L1 (5, 0) -> (5, 4) projected
  line L2 (5, 4.0107) -> (5, 0)
  line L3 (5, 0.0107) -> (0, 0.0107) projected
  line L4 (5, 0) -> (0, 0.0107)
  line L5 (0, 4) -> (5, 4) projected
  line L6 (0.0086, 4.0107) -> (5, 4.0107)
  line L7 (0, 0.0107) -> (0, 0) projected
  line L8 (0, 0) -> (-1.8529, 0)
  line L9 (-1.8529, 0) -> (-1.8529, 4)
  line L10 (-1.8529, 4) -> (0, 4)
  point P0 (16.2, 3.9946)
extrude "Extrusão35" cut sketch "Esboço48" against normal blind 5 contours L3 L7 L8 L9 L10 L5 L1
sketch "Esboço50" plane through (22.2, -24.2, 0) normal (0, -1, 0) x (1, 0, 0)
  line L0 (-28.4, 0) -> (-38.4, 0) projected
  line L1 (0, 30) -> (-33.4, 30)
  line L2 (-33.4, 30) -> (-33.4, 0)
  line L3 (-33.4, 0) -> (0, 0)
  line L4 (0, 0) -> (0, 30)
  point P0 (-22.2, 0)
extrude "Extrusão36" cut sketch "Esboço50" against normal blind 9.5
sketch "Esboço51" plane through (25.2, 11, 30) normal (0, 1, 0) x (1, 0, 0)
  line L0 (-36.4, 0) -> (-27.4, 0) projected
  line L1 (-31.407, 0) -> (0, 0)
  line L2 (0, 0) -> (0, 30)
  line L3 (0, 30) -> (-31.407, 30)
  line L4 (-31.407, 30) -> (-31.407, 0)
  line L5 (0, 30) -> (-31.407, 30)
  line L6 (-31.407, 30) -> (-31.407, 50)
  line L7 (-31.407, 50) -> (0, 50)
  line L8 (0, 50) -> (0, 30)
  point P0 (-25.2, 30)
  dimension "d172" = 20
extrude "Extrusão37" cut sketch "Esboço51" against normal blind 1.2 contours L4 L3 L2 L1 L0
sketch "Esboço52" plane through (0, 1, 29) normal (0, 1, 0) x (1, 0, 0)
  line L0 (10.2, 21.5) -> (13.2, 21.5) projected
  line L1 (10.2, 6.5) -> (10.2, 21.5) projected
  line L2 (10.2, 21.5) -> (10.2, 6.5)
  line L3 (13.2, 6.5) -> (10.2, 6.5) projected
  line L4 (10.2, 6.5) -> (10.2, 14)
  line L5 (10.2, 14) -> (0, 14)
  line L6 (0, 21.5) -> (0, 6.5) projected
  line L7 (10.2, 14) -> (10.2, 21.5)
  line L8 (10.2, 14) -> (10.2, 24.5)
  line L9 (10.2, 14) -> (10.2, 3.5)
  line L10 (10.2, 3.5) -> (0, 3.5)
  line L11 (0, 28) -> (0, 0) projected
  line L12 (0, 3.5) -> (0, 24.5)
  line L13 (0, 21.5) -> (0, 28) projected
  line L14 (0, 24.5) -> (10.2, 24.5)
  point P0 (0, 29)
  point P1 (10.2, 6.5)
  point P2 (10.2, 21.5)
  dimension "d175" = 10.5
  dimension "d176" = 10.5
  dimension "d177" = 21
extrude "Extrusão38" cut sketch "Esboço52" against normal blind 10
sketch "Esboço53" plane through (0, 0.5, 29) normal (0, 1, 0) x (1, 0, 0)
  line L0 (10.2, 6.5) -> (13.2, 6.5) projected
  line L1 (23.7, 21.5) -> (23.7, 6.5) projected
  line L2 (10.2, 6.5) -> (23.7, 6.5)
  line L3 (23.7, 6.5) -> (23.7, 21.5)
  line L4 (23.7, 21.5) -> (10.2, 21.5)
  line L5 (10.2, 21.5) -> (10.2, 6.5)
  point P0 (0, 29)
  point P1 (13.2, 6.5)
extrude "Extrusão39" add sketch "Esboço53" along normal blind 0.5
sketch "Esboço56" plane through (25.2, 9.8, 30) normal (0, 1, 0) x (1, 0, 0)
  line L0 (0, 0) -> (-31.407, 0) projected
  line L1 (-12.5, 30) -> (-12.5, 0) projected
  line L2 (0, 0) -> (-12.5, 0)
  line L3 (-12.5, 0) -> (-12.5, 28.9999)
  line L4 (-12.5, 28.9999) -> (0, 28.9999)
  line L5 (0, 28.9999) -> (0, 0)
  point P0 (-25.2, 30)
extrude "Extrusão40" cut sketch "Esboço56" against normal blind 8.8
sketch "Esboço57" plane through (-5.4, 1.2, 25.7994) normal (1, 0, 0) x (0, 0, -1)
  circle A0 centre (10.7994, 2.3) radius 1.5 projected
  line L0 (10.7994, 0.8) -> (10.7994, 2.3)
  line L1 (10.7994, 2.3) -> (10.7994, 5.3)
  circle A1 centre (10.7994, 5.3) radius 1.5
  line L2 (12.2994, 2.3) -> (12.2994, 5.3)
  line L3 (9.2994, 2.3) -> (9.2994, 5.3)
  point P0 (25.7994, -1.2)
  dimension "d187" = 3
  dimension "d188" = 3
extrude "Extrusão41" add sketch "Esboço57" along normal blind 12.2 contours A1
sketch "Esboço58" plane through (6.5, 3.5, 15) normal (1, 0, 0) x (0, 0, -1)
  circle A0 centre (0, 0) radius 1.5
  point P0 (15, -3.5)
extrude "Extrusão42" cut sketch "Esboço58" against normal blind 11.9
sketch "Esboço59" plane through (0, 1, 1) normal (0, 1, 0) x (1, 0, 0)
  line L0 (10.2, -3.5) -> (10.2, -24.5) projected
  line L1 (10.2, -24.5) -> (11.2, -24.5)
  line L2 (11.2, -24.5) -> (11.2, -3.5)
  line L3 (11.2, -3.5) -> (10.2, -3.5)
  line L4 (10.2, -3.5) -> (10.2, -24.5)
  point P0 (0, 1)
  dimension "d193" = 1
extrude "Extrusão43" cut sketch "Esboço59" against normal blind 1
sketch "Esboço61" plane through (6.8, 6.5, 15) normal (1, 0, 0) x (0, 0, -1)
  circle A0 centre (0, 0) radius 1.5 projected
  circle A1 centre (0, 0) radius 1.5
  point P0 (15, -6.5)
extrude "Extrusão44" cut sketch "Esboço61" against normal blind 1.8
sketch "Esboço62" plane through (25.2, 9.8, 30) normal (0, 1, 0) x (1, 0, 0)
  line L0 (-31.4, 30) -> (-31.4, 22) projected
  line L1 (-31.4, 29.0001) -> (-31.4, 30)
  line L2 (-31.4, 30) -> (0.1, 30)
  line L3 (0.1, 30) -> (0.1, 22.04)
  line L4 (0.1, 30) -> (-0.9, 30)
  line L5 (-3, 30) -> (0, 30) projected
  line L6 (-0.9, 30) -> (-0.9, 21.04)
  line L7 (-0.9, 21.04) -> (14, 21.04)
  line L8 (0.1, 22.04) -> (15, 22.04)
  line L9 (15, 22.04) -> (15, -2.96)
  line L10 (14, 21.04) -> (14, -1.96)
  line L11 (15, -2.96) -> (0.1, -2.96)
  line L12 (14, -1.96) -> (-0.9, -1.96)
  line L13 (-0.9, -1.96) -> (-0.9, -7.96)
  line L14 (0.1, -2.96) -> (0.1, -8.96)
  line L15 (0.1, -8.96) -> (-11.5, -8.96)
  line L16 (-0.9, -7.96) -> (-10.5, -7.96)
  line L17 (-11.5, -8.96) -> (-11.5, 1)
  line L18 (-10.5, -7.96) -> (-10.5, 1)
  line L19 (-10, 0) -> (-12.5, 0) projected
  line L20 (-25.2, 1) -> (-12.5, 1) projected
  line L21 (-10.5, 1) -> (-12.5, 1)
  line L22 (-12.5, 30) -> (-12.5, 0) projected
  line L23 (-12.5, 1) -> (-12.5, 0)
  line L24 (-12.5, 0) -> (-10.5, 0)
  point P0 (-25.2, 30)
  point P1 (-11.5, 0)
  point P2 (-0.9, 30)
  dimension "d198" = 31.5
  dimension "d199" = 7.96
  dimension "d200" = 1
  dimension "d201" = 8.96
  dimension "d202" = 14.9
  dimension "d203" = 14.9
  dimension "d204" = 25
  dimension "d205" = 23
  dimension "d206" = 14.9
  dimension "d207" = 14.9
  dimension "d208" = 6
  dimension "d209" = 6
  dimension "d210" = 11.6
  dimension "d211" = 9.6
  dimension "d212" = 9.96
  dimension "d213" = 8.96
extrude "Extrusão45" add sketch "Esboço62" against normal blind 8.8 contours L21 L17 L19 L22 | L2 L3 L8 L9 L11 L14 L15 L17 L19 L18 L16 L13 L12 L10 L7 L6 | L21 L18 L19 L17
sketch "Esboço63" plane through (25.2, 9.8, 30) normal (0, 1, 0) x (1, 0, 0)
  line L0 (-31.4, 8) -> (-31.4, 0) projected
  line L1 (-31.407, 1) -> (-10.5, 1) projected
  line L2 (-31.4, 0) -> (-10.5, 0)
  line L3 (-10.5, 0) -> (-10.5, 1)
  line L4 (-10.5, 1) -> (-31.4, 1)
  line L5 (-31.4, 1) -> (-31.4, 0)
  line L6 (-11.5, 0) -> (-11.5, -8.96) projected
  line L7 (-10.5, 1) -> (-11.5, 1)
  line L8 (-11.5, 1) -> (-11.5, -8.96)
  line L9 (-11.5, -8.96) -> (-10.5, -8.96)
  line L10 (-10.5, -8.96) -> (-10.5, 1)
  line L11 (-11.5, -8.96) -> (0.1, -8.96) projected
  line L12 (-10.5, -7.96) -> (-0.9, -7.96) projected
  line L13 (-11.5, -8.96) -> (-0.9, -8.96)
  line L14 (-0.9, -8.96) -> (-0.9, -7.96)
  line L15 (-0.9, -7.96) -> (-11.5, -7.96)
  line L16 (-11.5, -7.96) -> (-11.5, -8.96)
  line L17 (-0.9, -1.96) -> (14, -1.96) projected
  line L18 (-0.9, -8.96) -> (0.1, -8.96)
  line L19 (0.1, -8.96) -> (0.1, -1.96)
  line L20 (0.1, -1.96) -> (-0.9, -1.96)
  line L21 (-0.9, -1.96) -> (-0.9, -8.96)
  line L22 (-0.9, -7.96) -> (-0.9, -1.96) projected
  line L23 (15, 22.04) -> (15, -2.96) projected
  line L24 (-0.9, -1.96) -> (15, -1.96)
  line L25 (15, -1.96) -> (15, -2.96)
  line L26 (15, -2.96) -> (-0.9, -2.96)
  line L27 (-0.9, -2.96) -> (-0.9, -1.96)
  line L28 (15, -2.96) -> (0.1, -2.96) projected
  line L29 (0.1, 22.04) -> (15, 22.04) projected
  line L30 (15, -2.96) -> (14, -2.96)
  line L31 (14, -2.96) -> (14, 22.04)
  line L32 (14, 22.04) -> (15, 22.04)
  line L33 (15, 22.04) -> (15, -2.96)
  line L34 (0, 21.04) -> (-0.9, 21.04) projected
  line L35 (15, 22.04) -> (-0.9, 22.04)
  line L36 (-0.9, 22.04) -> (-0.9, 21.04)
  line L37 (-0.9, 21.04) -> (15, 21.04)
  line L38 (15, 21.04) -> (15, 22.04)
  line L39 (-0.9, 28.9999) -> (-0.9, 21.04) projected
  line L40 (0.1, 30) -> (0.1, 22.04) projected
  line L41 (-0.9, 21.04) -> (0.1, 21.04)
  line L42 (0.1, 21.04) -> (0.1, 30)
  line L43 (0.1, 30) -> (-0.9, 30)
  line L44 (-0.9, 30) -> (-0.9, 21.04)
  line L45 (-31.407, 29) -> (-31.407, 30) projected
  line L46 (0.1, 30) -> (-31.407, 30)
  line L47 (-31.407, 30) -> (-31.407, 29)
  line L48 (-31.407, 29) -> (0.1, 29)
  line L49 (0.1, 29) -> (0.1, 30)
  point P0 (-25.2, 30)
  point P1 (-0.9, 29)
  point P2 (14, 21.04)
  dimension "d216" = 1
  dimension "d217" = 1
extrude "Extrusão46" add sketch "Esboço63" along normal blind 3.2
sketch "Esboço64" plane through (25.2, 1, 30) normal (0, -1, 0) x (1, 0, 0)
  line L0 (0.1, -30) -> (-31.4, -30) projected
  line L1 (0, -30) -> (0.1, -30)
  line L2 (0.1, -22.04) -> (15, -22.04) projected
  line L3 (0.1, -30) -> (0.1, -22.04)
  line L4 (15, -22.04) -> (15, 2.96) projected
  line L5 (15, -22.04) -> (15, 2.96)
  line L6 (15, 2.96) -> (0.1, 2.96)
  line L7 (14, 1.96) -> (-0.9, 1.96) projected
  line L8 (0.1, 2.96) -> (0.1, 8.96) projected
  line L9 (0.1, 2.96) -> (0.1, 8.96)
  line L10 (-11.5, 8.96) -> (-11.5, 0) projected
  line L11 (0.1, 8.96) -> (-11.5, 8.96)
  line L12 (-10.5, 0) -> (-11.5, 0) projected
  line L13 (-11.5, 0) -> (-10.5, 0)
  line L14 (-10.5, 0) -> (-11.5, 0)
  line L15 (-10.5, 0) -> (-10.5, 7.96) projected
  line L16 (0, 0) -> (-10.5, 0) projected
  line L17 (-10.5, 0) -> (0, 0)
  line L18 (0, 0) -> (0, -30) projected
  line L19 (0, -30) -> (0, -21.04) projected
  line L20 (0, 0) -> (0, -30)
  point P0 (-25.2, -30)
extrude "Extrusão47" add sketch "Esboço64" along normal blind 1
properties part number "Peça1,61"
